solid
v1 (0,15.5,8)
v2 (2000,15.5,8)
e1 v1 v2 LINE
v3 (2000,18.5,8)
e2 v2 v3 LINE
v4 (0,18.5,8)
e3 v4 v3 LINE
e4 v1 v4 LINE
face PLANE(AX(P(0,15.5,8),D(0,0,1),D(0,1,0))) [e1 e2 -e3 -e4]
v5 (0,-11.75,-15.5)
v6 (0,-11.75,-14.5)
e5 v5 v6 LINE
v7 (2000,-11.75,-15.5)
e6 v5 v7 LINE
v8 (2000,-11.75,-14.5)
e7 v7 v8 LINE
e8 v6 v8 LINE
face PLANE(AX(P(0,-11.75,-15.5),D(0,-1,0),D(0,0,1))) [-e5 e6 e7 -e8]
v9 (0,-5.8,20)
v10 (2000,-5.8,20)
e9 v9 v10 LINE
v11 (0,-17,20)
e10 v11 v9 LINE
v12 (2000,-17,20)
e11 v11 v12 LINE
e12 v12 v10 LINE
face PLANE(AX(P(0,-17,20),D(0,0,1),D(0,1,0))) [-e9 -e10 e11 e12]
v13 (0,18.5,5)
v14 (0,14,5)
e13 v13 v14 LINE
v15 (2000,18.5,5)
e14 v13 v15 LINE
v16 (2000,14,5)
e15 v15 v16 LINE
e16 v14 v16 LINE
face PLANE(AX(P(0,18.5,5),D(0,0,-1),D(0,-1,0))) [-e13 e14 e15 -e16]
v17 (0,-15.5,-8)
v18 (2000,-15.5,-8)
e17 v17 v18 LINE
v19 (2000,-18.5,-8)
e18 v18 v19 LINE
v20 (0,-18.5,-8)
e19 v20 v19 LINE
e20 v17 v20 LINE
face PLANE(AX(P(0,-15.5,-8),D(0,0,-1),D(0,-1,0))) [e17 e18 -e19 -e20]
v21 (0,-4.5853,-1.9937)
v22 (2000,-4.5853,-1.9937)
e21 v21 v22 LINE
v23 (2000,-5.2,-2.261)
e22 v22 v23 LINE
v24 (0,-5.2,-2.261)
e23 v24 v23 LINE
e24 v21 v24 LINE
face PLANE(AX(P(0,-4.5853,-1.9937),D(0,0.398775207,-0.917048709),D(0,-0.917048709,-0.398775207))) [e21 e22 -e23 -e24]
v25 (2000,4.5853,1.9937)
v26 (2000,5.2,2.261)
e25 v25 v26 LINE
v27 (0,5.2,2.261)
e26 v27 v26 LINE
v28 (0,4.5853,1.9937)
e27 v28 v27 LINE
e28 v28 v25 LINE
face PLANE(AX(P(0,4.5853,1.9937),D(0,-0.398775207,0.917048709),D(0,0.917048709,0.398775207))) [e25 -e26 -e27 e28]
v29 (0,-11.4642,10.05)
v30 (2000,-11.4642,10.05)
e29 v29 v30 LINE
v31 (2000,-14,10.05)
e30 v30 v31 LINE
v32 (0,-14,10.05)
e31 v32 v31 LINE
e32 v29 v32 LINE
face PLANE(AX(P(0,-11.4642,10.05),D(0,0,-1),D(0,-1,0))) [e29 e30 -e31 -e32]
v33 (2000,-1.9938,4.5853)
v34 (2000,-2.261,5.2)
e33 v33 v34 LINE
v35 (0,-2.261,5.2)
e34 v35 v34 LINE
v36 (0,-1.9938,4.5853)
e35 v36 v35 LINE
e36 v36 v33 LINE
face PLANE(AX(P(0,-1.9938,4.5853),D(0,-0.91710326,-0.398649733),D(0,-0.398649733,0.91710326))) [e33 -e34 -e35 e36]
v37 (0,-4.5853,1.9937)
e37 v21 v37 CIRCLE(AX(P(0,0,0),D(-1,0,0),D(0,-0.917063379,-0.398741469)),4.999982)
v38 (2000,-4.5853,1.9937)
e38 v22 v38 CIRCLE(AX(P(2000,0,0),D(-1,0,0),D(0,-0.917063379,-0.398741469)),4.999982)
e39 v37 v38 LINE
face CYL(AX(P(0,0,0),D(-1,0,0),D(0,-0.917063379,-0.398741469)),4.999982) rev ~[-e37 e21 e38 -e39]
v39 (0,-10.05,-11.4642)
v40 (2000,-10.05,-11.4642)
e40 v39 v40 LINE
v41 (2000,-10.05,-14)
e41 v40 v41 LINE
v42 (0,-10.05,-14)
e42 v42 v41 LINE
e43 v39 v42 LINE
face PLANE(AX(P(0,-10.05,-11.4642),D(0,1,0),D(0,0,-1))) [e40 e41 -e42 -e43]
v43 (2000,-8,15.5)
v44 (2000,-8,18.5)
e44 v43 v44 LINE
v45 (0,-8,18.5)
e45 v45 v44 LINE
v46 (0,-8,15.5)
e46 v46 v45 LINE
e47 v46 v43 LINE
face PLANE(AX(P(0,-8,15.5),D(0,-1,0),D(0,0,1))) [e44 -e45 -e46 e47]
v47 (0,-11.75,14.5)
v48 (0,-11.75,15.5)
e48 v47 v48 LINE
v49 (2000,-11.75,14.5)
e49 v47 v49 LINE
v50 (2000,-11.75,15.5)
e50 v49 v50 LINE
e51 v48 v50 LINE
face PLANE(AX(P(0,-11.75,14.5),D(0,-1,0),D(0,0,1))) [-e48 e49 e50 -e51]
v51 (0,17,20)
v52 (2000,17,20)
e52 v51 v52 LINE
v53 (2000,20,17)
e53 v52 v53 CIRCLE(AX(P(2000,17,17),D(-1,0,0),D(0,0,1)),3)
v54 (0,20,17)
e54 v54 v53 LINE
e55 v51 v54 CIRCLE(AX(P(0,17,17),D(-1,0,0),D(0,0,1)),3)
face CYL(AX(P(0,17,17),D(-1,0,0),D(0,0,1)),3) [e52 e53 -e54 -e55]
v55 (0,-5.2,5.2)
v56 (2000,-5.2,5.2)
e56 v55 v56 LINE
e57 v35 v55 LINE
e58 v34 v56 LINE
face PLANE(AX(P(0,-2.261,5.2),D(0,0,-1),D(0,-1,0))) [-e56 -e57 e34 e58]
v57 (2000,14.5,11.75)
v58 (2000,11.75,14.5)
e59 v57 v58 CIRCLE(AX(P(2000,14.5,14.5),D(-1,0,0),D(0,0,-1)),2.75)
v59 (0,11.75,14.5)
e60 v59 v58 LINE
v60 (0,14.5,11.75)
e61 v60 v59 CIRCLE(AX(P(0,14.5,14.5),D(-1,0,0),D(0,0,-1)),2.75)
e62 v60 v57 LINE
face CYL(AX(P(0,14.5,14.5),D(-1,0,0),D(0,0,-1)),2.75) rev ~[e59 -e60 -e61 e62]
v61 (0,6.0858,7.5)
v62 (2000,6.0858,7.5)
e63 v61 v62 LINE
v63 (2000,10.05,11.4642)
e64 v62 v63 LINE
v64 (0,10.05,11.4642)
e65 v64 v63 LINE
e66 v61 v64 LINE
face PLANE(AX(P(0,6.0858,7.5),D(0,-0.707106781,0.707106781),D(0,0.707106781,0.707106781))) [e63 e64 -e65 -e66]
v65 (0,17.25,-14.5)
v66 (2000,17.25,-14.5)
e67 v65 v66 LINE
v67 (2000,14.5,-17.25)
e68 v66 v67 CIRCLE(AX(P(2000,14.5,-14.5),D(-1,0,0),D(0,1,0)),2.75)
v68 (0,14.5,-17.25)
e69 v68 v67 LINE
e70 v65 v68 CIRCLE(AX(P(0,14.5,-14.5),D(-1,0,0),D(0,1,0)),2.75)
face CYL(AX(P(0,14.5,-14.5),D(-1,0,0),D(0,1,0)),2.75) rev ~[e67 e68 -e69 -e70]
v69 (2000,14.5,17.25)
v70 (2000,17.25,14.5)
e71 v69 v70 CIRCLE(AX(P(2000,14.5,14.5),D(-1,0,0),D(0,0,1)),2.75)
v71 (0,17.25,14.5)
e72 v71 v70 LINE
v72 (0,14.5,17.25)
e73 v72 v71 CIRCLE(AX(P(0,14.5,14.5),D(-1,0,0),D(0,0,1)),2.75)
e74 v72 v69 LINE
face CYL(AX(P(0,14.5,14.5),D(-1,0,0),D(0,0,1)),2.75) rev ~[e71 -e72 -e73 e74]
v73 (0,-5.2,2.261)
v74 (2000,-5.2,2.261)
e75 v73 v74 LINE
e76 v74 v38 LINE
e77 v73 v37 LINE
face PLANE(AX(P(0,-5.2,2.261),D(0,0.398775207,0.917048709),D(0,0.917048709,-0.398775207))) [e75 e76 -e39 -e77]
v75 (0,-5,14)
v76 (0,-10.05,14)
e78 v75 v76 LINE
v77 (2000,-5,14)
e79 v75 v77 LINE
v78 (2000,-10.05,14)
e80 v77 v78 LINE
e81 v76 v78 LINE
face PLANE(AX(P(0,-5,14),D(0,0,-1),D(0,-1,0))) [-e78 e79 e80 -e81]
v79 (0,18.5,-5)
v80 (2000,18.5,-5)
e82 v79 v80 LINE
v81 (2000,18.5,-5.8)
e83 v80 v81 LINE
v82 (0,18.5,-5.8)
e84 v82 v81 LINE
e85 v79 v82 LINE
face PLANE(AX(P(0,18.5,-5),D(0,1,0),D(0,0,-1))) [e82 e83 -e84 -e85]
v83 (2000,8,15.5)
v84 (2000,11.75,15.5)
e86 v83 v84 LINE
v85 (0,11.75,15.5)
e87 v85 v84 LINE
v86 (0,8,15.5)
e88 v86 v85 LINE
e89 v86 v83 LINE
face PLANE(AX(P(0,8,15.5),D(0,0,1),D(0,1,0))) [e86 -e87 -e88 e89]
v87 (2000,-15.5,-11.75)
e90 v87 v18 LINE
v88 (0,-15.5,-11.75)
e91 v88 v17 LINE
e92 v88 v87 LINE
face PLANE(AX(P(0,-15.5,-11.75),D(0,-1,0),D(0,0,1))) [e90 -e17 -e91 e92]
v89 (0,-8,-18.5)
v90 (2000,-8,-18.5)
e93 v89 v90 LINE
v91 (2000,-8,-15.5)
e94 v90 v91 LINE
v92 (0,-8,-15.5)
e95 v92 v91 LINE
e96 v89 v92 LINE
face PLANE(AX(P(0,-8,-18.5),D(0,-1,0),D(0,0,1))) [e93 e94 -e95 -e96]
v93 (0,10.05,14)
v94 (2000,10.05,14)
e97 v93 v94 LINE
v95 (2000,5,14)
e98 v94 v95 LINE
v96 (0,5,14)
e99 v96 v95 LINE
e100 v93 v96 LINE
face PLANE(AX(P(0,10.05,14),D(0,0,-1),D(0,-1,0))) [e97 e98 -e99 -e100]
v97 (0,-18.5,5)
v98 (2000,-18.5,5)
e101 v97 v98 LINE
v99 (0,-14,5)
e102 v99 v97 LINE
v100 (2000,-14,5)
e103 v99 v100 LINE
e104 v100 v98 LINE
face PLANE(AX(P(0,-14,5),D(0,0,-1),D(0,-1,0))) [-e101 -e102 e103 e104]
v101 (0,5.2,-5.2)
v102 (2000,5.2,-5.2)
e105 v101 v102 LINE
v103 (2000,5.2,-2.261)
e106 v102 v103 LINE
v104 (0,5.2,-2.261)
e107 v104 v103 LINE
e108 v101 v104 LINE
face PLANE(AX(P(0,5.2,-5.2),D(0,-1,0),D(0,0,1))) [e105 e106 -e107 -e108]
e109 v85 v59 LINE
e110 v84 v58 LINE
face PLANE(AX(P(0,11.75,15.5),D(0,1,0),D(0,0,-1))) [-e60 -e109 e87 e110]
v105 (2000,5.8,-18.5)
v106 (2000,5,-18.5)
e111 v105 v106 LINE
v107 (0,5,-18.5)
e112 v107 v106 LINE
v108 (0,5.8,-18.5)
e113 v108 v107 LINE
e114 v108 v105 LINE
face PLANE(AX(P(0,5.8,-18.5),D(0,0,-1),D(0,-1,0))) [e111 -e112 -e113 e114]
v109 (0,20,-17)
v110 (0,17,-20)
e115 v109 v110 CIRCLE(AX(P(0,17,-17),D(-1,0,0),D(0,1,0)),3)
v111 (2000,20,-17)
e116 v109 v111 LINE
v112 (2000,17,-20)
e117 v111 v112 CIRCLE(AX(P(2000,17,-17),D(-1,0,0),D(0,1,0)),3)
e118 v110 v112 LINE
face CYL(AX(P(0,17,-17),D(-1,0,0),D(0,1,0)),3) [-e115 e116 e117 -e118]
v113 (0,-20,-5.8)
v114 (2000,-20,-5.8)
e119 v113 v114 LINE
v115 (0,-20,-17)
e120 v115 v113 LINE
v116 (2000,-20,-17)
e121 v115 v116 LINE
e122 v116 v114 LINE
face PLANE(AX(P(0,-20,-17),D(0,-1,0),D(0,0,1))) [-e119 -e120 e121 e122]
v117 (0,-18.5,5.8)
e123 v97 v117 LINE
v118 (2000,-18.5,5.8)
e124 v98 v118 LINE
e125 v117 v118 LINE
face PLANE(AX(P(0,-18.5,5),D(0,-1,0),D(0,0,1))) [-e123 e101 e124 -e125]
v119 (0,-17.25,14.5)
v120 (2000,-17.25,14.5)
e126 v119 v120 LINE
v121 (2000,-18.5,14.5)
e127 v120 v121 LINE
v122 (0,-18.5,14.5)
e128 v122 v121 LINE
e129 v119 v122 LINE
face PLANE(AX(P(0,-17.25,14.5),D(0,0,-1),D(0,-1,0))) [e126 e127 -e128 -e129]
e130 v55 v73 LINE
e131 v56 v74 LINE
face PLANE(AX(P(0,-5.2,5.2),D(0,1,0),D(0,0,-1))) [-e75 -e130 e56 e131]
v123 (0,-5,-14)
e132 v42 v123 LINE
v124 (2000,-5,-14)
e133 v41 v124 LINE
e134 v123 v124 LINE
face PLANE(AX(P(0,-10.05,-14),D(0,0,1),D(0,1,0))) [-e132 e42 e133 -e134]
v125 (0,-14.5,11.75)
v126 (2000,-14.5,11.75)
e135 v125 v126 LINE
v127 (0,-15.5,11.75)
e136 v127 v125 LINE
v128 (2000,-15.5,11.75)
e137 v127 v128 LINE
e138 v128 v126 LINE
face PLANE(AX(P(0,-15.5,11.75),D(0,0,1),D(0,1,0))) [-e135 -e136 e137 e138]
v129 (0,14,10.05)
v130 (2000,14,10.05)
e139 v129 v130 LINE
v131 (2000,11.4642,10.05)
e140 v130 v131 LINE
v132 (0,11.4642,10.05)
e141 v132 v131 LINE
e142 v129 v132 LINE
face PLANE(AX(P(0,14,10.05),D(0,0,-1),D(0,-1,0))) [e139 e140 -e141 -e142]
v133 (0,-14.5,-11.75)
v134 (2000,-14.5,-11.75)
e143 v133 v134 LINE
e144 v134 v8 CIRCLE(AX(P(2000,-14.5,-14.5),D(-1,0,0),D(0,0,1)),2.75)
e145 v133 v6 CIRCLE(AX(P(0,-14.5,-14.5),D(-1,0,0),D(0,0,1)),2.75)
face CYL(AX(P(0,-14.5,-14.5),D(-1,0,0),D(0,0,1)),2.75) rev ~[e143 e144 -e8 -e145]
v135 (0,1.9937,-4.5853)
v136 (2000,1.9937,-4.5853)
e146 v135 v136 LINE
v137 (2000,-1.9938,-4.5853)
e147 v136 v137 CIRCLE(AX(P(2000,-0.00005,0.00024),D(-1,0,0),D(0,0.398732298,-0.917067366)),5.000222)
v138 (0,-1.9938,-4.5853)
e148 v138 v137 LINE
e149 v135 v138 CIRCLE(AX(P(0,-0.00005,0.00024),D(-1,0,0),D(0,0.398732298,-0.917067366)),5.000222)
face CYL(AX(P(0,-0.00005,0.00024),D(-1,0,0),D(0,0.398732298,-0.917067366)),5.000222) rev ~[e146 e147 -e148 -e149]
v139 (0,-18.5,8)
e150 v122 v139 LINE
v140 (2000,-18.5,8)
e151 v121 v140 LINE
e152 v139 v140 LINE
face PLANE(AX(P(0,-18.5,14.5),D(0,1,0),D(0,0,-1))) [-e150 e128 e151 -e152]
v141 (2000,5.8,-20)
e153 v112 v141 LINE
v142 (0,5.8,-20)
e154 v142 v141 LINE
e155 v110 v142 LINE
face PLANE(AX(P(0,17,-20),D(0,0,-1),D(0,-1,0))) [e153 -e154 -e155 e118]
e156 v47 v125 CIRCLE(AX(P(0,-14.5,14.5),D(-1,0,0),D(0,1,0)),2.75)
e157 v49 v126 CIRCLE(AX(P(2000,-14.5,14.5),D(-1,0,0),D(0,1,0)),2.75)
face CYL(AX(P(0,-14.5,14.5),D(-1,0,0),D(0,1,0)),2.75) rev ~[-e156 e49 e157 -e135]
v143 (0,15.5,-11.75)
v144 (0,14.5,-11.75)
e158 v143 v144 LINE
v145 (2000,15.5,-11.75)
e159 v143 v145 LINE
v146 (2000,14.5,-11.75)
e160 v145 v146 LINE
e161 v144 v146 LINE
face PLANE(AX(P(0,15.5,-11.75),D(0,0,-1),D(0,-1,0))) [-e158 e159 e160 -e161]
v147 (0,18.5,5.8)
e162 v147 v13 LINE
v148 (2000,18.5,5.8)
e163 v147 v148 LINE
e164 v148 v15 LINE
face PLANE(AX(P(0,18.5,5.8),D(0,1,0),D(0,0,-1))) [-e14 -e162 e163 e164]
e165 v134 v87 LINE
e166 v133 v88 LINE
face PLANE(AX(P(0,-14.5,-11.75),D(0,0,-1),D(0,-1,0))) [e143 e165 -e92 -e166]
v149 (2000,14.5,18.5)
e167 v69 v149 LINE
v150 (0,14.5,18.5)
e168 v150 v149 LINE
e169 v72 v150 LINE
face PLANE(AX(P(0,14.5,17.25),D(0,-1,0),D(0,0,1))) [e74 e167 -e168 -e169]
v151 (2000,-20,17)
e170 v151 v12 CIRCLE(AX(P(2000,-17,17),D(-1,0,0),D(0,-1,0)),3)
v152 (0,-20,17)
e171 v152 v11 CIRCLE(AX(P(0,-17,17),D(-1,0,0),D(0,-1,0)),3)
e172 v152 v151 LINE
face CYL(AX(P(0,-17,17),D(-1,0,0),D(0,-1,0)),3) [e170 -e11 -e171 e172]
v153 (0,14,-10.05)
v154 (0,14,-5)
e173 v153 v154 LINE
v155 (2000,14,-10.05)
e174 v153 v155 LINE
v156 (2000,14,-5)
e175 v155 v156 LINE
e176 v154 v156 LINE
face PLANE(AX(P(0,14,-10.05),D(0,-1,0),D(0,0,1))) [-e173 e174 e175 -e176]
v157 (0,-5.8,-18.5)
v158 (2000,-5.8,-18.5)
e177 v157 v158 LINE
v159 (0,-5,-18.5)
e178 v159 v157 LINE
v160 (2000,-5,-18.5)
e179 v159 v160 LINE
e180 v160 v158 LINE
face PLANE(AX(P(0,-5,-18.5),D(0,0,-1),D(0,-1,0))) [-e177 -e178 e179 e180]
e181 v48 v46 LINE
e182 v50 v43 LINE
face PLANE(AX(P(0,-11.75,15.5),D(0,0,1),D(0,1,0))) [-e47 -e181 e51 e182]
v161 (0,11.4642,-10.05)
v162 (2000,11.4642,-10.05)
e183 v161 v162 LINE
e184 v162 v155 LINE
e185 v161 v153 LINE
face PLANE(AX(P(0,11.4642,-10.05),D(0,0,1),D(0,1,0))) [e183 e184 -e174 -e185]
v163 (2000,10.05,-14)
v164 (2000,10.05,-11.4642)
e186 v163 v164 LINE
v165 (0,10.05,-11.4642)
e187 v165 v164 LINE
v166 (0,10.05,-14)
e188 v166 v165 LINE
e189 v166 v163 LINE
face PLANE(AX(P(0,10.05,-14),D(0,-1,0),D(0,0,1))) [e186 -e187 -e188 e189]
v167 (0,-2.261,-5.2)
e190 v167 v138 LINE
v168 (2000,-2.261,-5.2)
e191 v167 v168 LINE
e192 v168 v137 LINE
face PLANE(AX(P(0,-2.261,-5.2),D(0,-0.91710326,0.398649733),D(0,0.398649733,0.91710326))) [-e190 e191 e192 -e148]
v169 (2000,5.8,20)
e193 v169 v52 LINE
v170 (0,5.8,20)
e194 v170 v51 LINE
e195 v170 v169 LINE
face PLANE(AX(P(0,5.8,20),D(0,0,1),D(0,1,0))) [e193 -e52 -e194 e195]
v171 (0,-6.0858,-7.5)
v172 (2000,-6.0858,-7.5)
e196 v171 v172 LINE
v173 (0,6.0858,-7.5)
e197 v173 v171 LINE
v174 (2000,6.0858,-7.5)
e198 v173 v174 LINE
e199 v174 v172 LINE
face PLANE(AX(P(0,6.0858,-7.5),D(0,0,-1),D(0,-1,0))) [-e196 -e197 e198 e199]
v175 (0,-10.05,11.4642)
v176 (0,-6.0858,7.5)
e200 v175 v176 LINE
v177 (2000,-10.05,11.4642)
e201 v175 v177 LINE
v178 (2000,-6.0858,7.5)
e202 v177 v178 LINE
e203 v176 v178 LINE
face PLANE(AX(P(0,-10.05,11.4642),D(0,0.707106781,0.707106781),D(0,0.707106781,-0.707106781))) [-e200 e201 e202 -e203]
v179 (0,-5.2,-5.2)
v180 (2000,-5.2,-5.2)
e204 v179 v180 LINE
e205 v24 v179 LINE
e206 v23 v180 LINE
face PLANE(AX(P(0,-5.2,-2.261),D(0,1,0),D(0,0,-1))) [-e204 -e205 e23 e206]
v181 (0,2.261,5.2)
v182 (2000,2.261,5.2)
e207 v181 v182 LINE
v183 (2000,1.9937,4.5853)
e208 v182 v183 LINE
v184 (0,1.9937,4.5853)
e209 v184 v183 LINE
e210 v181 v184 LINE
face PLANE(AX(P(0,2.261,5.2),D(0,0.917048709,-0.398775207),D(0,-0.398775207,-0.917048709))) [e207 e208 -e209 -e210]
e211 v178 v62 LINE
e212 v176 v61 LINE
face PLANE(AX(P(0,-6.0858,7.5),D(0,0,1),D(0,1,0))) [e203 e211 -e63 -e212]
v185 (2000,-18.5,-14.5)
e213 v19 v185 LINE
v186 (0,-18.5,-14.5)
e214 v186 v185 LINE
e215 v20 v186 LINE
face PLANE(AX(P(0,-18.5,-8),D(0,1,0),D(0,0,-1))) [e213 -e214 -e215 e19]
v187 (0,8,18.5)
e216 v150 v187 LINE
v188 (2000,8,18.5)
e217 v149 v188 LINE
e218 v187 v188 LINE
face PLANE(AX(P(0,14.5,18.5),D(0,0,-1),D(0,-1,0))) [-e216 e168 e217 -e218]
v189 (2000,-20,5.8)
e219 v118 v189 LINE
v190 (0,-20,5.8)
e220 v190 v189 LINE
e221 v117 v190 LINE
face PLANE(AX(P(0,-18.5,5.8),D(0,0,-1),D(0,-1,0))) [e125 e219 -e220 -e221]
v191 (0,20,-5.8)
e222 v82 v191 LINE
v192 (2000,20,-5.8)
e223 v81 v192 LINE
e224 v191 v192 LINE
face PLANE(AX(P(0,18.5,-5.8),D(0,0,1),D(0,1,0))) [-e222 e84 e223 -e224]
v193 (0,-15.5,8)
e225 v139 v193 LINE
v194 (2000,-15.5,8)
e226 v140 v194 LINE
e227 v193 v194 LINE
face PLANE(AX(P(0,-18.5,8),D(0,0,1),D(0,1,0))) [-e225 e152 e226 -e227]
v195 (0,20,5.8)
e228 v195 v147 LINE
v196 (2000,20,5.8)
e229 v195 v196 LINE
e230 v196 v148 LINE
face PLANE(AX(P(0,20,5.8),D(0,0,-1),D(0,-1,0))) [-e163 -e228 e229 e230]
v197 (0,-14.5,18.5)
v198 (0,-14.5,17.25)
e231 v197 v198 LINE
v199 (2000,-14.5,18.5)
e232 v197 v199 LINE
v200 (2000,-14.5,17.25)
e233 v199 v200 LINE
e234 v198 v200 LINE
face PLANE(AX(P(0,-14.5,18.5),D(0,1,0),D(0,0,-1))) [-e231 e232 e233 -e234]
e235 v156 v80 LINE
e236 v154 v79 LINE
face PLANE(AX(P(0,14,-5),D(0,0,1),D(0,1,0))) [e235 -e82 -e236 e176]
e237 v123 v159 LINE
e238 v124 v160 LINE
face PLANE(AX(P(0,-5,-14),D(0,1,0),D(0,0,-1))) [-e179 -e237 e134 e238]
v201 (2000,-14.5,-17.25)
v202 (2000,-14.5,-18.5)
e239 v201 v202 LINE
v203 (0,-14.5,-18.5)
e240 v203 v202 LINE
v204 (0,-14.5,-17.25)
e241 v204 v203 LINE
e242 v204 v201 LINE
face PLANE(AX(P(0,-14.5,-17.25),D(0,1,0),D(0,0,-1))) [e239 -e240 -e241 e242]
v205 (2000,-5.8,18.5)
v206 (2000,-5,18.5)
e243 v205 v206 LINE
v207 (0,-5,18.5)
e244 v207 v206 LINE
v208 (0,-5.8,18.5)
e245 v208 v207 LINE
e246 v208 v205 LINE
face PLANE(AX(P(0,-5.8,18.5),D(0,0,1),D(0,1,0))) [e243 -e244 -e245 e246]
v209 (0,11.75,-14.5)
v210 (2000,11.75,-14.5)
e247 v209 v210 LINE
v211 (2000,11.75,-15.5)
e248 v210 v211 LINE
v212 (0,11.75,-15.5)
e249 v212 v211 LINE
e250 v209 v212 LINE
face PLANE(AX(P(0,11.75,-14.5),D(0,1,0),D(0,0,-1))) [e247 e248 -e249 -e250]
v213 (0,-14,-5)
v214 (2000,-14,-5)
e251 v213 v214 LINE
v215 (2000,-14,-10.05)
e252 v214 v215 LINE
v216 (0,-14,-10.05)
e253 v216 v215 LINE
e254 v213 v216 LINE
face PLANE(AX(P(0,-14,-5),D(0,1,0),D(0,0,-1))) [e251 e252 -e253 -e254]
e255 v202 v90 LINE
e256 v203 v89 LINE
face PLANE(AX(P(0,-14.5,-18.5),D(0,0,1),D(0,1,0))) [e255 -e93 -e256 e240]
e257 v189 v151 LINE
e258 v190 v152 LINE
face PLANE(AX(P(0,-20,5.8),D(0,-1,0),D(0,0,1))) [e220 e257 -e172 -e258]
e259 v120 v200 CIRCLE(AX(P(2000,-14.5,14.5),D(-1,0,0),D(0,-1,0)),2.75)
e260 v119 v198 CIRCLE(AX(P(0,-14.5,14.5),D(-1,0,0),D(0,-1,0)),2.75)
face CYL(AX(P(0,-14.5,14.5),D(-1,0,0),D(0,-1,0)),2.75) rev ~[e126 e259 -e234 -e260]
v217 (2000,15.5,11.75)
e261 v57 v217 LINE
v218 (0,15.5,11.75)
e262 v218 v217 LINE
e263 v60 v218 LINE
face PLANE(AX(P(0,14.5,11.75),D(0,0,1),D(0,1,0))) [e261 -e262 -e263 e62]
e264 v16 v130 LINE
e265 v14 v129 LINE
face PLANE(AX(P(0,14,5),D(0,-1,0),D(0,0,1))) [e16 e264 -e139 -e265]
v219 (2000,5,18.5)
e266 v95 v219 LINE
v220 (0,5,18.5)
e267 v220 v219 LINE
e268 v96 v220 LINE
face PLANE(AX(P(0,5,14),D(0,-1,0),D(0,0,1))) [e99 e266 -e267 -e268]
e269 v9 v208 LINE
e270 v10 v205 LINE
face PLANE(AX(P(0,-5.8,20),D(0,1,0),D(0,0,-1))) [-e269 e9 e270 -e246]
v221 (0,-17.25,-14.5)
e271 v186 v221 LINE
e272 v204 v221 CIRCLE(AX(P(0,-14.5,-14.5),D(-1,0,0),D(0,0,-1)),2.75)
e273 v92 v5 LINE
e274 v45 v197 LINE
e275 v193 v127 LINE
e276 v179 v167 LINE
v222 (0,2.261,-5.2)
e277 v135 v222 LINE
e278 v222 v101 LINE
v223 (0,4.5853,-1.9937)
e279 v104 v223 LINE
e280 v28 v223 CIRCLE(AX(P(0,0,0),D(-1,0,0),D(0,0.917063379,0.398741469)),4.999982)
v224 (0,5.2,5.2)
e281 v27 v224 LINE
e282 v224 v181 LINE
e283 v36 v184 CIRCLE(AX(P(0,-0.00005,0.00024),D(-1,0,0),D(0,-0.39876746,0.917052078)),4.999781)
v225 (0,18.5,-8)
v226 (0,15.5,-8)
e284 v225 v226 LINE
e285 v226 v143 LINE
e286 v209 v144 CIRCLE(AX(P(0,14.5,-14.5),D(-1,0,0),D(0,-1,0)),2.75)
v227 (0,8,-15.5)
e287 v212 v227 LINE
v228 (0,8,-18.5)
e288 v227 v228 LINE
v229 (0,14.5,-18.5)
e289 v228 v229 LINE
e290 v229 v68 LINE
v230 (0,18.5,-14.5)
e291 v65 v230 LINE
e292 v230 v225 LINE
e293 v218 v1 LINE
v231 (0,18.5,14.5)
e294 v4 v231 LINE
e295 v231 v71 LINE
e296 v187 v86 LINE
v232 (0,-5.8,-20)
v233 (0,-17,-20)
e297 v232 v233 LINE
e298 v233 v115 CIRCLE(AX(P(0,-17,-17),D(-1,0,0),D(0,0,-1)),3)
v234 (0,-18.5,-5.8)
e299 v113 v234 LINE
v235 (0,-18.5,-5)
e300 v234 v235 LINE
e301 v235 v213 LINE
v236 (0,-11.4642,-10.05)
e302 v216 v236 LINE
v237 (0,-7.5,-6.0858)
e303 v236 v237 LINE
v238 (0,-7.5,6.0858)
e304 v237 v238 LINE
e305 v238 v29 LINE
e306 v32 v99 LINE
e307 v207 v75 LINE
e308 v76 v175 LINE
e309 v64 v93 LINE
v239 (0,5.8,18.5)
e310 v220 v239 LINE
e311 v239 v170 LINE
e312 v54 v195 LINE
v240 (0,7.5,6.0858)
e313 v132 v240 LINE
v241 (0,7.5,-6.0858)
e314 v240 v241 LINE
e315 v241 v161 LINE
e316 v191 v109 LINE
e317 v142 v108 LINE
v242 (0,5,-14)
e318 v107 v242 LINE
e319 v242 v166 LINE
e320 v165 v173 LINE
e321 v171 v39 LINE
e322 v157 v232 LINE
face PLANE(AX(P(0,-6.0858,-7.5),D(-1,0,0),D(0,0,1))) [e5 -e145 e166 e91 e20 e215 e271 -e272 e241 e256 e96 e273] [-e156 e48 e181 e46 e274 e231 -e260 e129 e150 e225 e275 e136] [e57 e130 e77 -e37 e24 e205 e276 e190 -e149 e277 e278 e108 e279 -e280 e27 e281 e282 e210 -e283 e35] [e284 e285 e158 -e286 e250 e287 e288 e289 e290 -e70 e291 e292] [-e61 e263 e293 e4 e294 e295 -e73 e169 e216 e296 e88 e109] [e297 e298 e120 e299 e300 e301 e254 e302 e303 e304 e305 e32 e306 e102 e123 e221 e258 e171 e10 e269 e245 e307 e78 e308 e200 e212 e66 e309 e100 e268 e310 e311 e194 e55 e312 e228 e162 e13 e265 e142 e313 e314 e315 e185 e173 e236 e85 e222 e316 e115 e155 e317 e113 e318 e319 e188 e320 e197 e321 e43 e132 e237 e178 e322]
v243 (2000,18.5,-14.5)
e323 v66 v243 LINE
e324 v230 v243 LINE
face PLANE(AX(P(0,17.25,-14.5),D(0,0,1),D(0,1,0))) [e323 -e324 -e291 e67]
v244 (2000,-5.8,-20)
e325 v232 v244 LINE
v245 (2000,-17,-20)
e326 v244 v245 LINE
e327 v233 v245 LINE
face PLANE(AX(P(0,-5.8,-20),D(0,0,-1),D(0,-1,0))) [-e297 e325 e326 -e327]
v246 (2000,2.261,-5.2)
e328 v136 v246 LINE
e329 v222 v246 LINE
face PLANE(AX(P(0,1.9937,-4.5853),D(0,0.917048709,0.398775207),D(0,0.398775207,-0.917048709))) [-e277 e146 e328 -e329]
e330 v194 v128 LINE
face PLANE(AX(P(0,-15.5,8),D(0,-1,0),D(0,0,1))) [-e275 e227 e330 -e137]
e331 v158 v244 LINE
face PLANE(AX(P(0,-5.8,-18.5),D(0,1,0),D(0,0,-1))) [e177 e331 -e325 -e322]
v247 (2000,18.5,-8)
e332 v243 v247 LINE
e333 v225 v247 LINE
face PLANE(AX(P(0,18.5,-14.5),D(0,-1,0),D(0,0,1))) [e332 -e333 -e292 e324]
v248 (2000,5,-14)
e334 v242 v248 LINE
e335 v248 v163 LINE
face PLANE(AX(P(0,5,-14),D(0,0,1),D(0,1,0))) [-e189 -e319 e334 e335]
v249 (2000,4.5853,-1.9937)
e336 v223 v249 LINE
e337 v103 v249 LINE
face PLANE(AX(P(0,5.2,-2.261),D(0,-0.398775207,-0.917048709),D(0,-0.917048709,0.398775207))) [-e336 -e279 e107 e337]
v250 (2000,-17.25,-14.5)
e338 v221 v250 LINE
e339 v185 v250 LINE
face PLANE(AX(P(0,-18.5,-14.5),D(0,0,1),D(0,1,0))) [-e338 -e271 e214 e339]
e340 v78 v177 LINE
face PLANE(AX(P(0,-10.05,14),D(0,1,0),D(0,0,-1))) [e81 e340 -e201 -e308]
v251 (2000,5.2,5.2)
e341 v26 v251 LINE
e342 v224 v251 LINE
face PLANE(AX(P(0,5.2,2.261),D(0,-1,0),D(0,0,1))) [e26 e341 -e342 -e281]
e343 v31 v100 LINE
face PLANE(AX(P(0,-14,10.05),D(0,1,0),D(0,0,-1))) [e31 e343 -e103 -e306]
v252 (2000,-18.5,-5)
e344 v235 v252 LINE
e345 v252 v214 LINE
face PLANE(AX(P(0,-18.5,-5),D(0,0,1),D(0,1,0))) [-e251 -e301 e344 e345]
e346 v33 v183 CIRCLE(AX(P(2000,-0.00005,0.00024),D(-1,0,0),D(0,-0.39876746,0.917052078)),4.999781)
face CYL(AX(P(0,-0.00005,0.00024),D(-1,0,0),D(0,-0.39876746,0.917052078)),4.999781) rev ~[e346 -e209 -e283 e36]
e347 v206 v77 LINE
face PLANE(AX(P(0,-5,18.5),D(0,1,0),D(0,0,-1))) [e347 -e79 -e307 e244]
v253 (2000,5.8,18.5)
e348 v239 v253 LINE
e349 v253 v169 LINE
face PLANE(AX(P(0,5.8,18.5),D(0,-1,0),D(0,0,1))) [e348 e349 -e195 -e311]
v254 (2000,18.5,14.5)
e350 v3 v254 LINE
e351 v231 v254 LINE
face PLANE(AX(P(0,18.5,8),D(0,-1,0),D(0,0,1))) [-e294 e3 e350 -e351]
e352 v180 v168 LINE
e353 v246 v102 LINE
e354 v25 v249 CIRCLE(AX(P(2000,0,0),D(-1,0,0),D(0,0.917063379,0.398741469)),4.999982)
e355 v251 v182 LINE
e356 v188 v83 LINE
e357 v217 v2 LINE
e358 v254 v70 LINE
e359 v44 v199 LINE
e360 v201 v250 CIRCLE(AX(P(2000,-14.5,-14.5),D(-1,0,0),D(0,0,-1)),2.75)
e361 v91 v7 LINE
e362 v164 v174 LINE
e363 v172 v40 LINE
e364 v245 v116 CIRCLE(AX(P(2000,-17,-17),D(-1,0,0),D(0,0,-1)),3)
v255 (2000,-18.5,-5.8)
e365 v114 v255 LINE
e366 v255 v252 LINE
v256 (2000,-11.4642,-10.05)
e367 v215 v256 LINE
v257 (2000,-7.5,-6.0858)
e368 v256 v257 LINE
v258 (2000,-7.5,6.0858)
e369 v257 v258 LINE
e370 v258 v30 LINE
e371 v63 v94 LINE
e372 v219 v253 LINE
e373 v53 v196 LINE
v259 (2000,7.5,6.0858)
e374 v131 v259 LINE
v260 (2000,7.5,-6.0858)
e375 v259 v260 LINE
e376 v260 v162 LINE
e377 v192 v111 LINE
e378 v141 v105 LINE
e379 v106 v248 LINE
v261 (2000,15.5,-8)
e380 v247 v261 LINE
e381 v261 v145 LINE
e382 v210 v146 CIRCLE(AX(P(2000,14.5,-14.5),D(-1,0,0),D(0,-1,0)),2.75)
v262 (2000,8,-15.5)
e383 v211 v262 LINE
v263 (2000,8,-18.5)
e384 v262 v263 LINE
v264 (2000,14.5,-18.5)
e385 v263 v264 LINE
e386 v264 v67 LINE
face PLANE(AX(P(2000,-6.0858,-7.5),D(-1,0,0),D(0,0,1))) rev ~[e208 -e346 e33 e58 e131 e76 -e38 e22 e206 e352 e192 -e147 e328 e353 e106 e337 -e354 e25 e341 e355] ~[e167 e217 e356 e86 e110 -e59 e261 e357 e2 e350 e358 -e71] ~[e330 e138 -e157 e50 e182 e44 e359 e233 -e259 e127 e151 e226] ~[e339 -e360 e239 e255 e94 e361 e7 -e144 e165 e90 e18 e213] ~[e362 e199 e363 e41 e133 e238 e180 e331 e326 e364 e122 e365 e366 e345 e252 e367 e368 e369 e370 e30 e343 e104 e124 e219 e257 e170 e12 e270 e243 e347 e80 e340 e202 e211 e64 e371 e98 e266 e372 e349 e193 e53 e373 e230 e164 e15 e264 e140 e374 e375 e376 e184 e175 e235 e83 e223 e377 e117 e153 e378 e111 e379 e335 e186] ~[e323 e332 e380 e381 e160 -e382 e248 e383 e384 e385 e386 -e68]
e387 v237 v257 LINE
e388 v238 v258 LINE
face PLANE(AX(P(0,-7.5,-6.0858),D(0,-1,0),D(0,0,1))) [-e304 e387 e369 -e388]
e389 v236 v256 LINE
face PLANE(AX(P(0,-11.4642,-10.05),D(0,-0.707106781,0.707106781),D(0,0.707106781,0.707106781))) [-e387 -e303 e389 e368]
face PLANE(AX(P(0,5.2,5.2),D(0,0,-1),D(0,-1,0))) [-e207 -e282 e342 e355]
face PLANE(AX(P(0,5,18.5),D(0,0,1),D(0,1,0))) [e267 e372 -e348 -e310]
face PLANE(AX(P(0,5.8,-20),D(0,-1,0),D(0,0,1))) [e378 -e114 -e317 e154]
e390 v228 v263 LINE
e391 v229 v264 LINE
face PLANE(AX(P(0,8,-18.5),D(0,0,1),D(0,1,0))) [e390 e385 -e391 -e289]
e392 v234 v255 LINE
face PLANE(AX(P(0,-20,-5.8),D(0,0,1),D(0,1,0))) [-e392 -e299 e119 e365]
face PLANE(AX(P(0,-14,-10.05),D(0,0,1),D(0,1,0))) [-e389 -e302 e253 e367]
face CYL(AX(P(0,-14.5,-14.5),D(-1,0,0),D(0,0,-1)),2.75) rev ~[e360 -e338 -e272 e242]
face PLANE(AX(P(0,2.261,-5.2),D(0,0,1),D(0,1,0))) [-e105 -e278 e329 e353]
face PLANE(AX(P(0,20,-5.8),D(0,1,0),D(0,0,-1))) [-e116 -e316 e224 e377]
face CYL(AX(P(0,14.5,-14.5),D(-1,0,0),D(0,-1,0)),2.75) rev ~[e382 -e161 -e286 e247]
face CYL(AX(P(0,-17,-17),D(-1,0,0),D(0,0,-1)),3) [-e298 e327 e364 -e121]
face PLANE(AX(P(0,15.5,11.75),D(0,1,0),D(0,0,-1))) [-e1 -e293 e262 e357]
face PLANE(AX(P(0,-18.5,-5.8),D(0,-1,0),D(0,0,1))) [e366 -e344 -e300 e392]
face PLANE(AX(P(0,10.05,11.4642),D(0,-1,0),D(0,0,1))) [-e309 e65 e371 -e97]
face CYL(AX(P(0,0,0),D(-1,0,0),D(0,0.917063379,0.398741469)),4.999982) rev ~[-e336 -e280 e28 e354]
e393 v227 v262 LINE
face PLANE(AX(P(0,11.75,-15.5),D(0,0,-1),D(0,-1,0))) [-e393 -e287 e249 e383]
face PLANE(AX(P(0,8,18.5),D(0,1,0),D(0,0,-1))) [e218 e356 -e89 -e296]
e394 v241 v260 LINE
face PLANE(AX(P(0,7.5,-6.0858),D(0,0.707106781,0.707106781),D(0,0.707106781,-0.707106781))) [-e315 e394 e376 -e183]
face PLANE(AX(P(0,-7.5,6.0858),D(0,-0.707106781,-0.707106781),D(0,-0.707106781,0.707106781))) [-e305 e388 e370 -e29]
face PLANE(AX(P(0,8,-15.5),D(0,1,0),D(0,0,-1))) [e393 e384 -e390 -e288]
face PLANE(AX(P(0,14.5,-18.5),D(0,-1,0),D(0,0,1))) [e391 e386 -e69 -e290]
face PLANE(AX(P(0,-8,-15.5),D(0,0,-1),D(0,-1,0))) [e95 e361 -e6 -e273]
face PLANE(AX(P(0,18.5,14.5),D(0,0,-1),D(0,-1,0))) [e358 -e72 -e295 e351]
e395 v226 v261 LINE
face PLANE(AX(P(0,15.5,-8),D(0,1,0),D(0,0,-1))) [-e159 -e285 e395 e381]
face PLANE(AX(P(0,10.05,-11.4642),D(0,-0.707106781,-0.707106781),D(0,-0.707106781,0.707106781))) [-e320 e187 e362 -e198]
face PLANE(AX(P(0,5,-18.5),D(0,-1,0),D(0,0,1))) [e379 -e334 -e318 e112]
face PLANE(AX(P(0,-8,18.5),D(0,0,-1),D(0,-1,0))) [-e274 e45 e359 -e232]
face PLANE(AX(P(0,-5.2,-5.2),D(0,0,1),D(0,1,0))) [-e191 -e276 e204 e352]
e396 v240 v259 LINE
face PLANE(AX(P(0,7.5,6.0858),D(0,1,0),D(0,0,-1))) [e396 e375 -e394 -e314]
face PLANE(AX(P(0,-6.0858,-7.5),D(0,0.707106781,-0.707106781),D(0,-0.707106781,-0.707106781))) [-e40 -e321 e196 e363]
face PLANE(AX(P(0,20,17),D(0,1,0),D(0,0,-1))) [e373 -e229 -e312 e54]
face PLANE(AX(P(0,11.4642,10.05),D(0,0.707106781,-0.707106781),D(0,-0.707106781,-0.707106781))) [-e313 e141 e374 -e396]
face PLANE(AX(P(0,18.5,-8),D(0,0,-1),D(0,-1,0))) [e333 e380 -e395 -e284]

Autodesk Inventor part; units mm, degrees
ref_plane "YZ Plane" through (0, 0, 0) normal (1, 0, 0) x (0, 1, 0)
ref_plane "Work Plane1" through (3000, -6.0858, -7.5) normal (1, 0, 0) x (0, 0, -1)
sketch "Sketch1" plane through (3000, -6.0858, -7.5) normal (1, 0, 0) x (0, 0, -1)
  line L0 (0, 0) -> (3.9642, -3.9642) projected
  line L1 (0, 12.1716) -> (0, 0) projected
  line L2 (3.9642, 16.1358) -> (0, 12.1716) projected
  line L3 (6.5, 16.1358) -> (3.9642, 16.1358) projected
  line L4 (6.5, 11.0858) -> (6.5, 16.1358) projected
  line L5 (11, 11.0858) -> (6.5, 11.0858) projected
  line L6 (11, 11.8858) -> (11, 11.0858) projected
  line L7 (12.5, 11.8858) -> (11, 11.8858) projected
  line L8 (12.5, 23.0858) -> (12.5, 11.8858) projected
  arc A0 (12.5, 23.0858) -> (9.5, 26.0858) centre (9.5, 23.0858) ccw projected
  line L9 (-1.7, 26.0858) -> (9.5, 26.0858) projected
  line L10 (-1.7, 24.5858) -> (-1.7, 26.0858) projected
  line L11 (-2.5, 24.5858) -> (-1.7, 24.5858) projected
  line L12 (-2.5, 20.0858) -> (-2.5, 24.5858) projected
  line L13 (2.55, 20.0858) -> (-2.5, 20.0858) projected
  line L14 (2.55, 17.55) -> (2.55, 20.0858) projected
  line L15 (-1.4142, 13.5858) -> (2.55, 17.55) projected
  line L16 (-13.5858, 13.5858) -> (-1.4142, 13.5858) projected
  line L17 (-17.55, 17.55) -> (-13.5858, 13.5858) projected
  line L18 (-17.55, 20.0858) -> (-17.55, 17.55) projected
  line L19 (-12.5, 20.0858) -> (-17.55, 20.0858) projected
  line L20 (-12.5, 24.5858) -> (-12.5, 20.0858) projected
  line L21 (-13.3, 24.5858) -> (-12.5, 24.5858) projected
  line L22 (-13.3, 26.0858) -> (-13.3, 24.5858) projected
  line L23 (-24.5, 26.0858) -> (-13.3, 26.0858) projected
  arc A1 (-24.5, 26.0858) -> (-27.5, 23.0858) centre (-24.5, 23.0858) ccw projected
  line L24 (-27.5, 11.8858) -> (-27.5, 23.0858) projected
  line L25 (-26, 11.8858) -> (-27.5, 11.8858) projected
  line L26 (-26, 11.0858) -> (-26, 11.8858) projected
  line L27 (-21.5, 11.0858) -> (-26, 11.0858) projected
  line L28 (-21.5, 16.1358) -> (-21.5, 11.0858) projected
  line L29 (-18.9642, 16.1358) -> (-21.5, 16.1358) projected
  line L30 (-15, 12.1716) -> (-18.9642, 16.1358) projected
  line L31 (-15, 0) -> (-15, 12.1716) projected
  line L32 (-18.9642, -3.9642) -> (-15, 0) projected
  line L33 (-21.5, -3.9642) -> (-18.9642, -3.9642) projected
  line L34 (-21.5, 1.0858) -> (-21.5, -3.9642) projected
  line L35 (-26, 1.0858) -> (-21.5, 1.0858) projected
  line L36 (-26, 0.2858) -> (-26, 1.0858) projected
  line L37 (-27.5, 0.2858) -> (-26, 0.2858) projected
  line L38 (-27.5, -10.9142) -> (-27.5, 0.2858) projected
  arc A2 (-27.5, -10.9142) -> (-24.5, -13.9142) centre (-24.5, -10.9142) ccw projected
  line L39 (-13.3, -13.9142) -> (-24.5, -13.9142) projected
  line L40 (-13.3, -12.4142) -> (-13.3, -13.9142) projected
  line L41 (-12.5, -12.4142) -> (-13.3, -12.4142) projected
  line L42 (-12.5, -7.9142) -> (-12.5, -12.4142) projected
  line L43 (-17.55, -7.9142) -> (-12.5, -7.9142) projected
  line L44 (-17.55, -5.3784) -> (-17.55, -7.9142) projected
  line L45 (-13.5858, -1.4142) -> (-17.55, -5.3784) projected
  line L46 (-1.4142, -1.4142) -> (-13.5858, -1.4142) projected
  line L47 (2.55, -5.3784) -> (-1.4142, -1.4142) projected
  line L48 (2.55, -7.9142) -> (2.55, -5.3784) projected
  line L49 (-2.5, -7.9142) -> (2.55, -7.9142) projected
  line L50 (-2.5, -12.4142) -> (-2.5, -7.9142) projected
  line L51 (-1.7, -12.4142) -> (-2.5, -12.4142) projected
  line L52 (-1.7, -13.9142) -> (-1.7, -12.4142) projected
  line L53 (9.5, -13.9142) -> (-1.7, -13.9142) projected
  arc A3 (9.5, -13.9142) -> (12.5, -10.9142) centre (9.5, -10.9142) ccw projected
  line L54 (12.5, 0.2858) -> (12.5, -10.9142) projected
  line L55 (11, 0.2858) -> (12.5, 0.2858) projected
  line L56 (11, 1.0858) -> (11, 0.2858) projected
  line L57 (6.5, 1.0858) -> (11, 1.0858) projected
  line L58 (6.5, -3.9642) -> (6.5, 1.0858) projected
  line L59 (3.9642, -3.9642) -> (6.5, -3.9642) projected
  line L60 (8, -1.9142) -> (11, -1.9142) projected
  line L61 (11, -1.9142) -> (11, -8.4142) projected
  line L62 (11, -8.4142) -> (9.75, -8.4142) projected
  arc A4 (7, -11.1642) -> (9.75, -8.4142) centre (7, -8.4142) ccw projected
  line L63 (7, -11.1642) -> (7, -12.4142) projected
  line L64 (7, -12.4142) -> (0.5, -12.4142) projected
  line L65 (0.5, -12.4142) -> (0.5, -9.4142) projected
  line L66 (0.5, -9.4142) -> (4.25, -9.4142) projected
  line L67 (4.25, -9.4142) -> (4.25, -8.4142) projected
  arc A5 (7, -5.6642) -> (4.25, -8.4142) centre (7, -8.4142) ccw projected
  line L68 (7, -5.6642) -> (8, -5.6642) projected
  line L69 (8, -5.6642) -> (8, -1.9142) projected
  line L70 (0.5, 21.5858) -> (0.5, 24.5858) projected
  line L71 (0.5, 24.5858) -> (7, 24.5858) projected
  line L72 (7, 24.5858) -> (7, 23.3358) projected
  arc A6 (9.75, 20.5858) -> (7, 23.3358) centre (7, 20.5858) ccw projected
  line L73 (9.75, 20.5858) -> (11, 20.5858) projected
  line L74 (11, 20.5858) -> (11, 14.0858) projected
  line L75 (11, 14.0858) -> (8, 14.0858) projected
  line L76 (8, 14.0858) -> (8, 17.8358) projected
  line L77 (8, 17.8358) -> (7, 17.8358) projected
  arc A7 (4.25, 20.5858) -> (7, 17.8358) centre (7, 20.5858) ccw projected
  line L78 (4.25, 20.5858) -> (4.25, 21.5858) projected
  line L79 (4.25, 21.5858) -> (0.5, 21.5858) projected
  line L80 (-23, 14.0858) -> (-26, 14.0858) projected
  line L81 (-26, 14.0858) -> (-26, 20.5858) projected
  line L82 (-26, 20.5858) -> (-24.75, 20.5858) projected
  arc A8 (-22, 23.3358) -> (-24.75, 20.5858) centre (-22, 20.5858) ccw projected
  line L83 (-22, 23.3358) -> (-22, 24.5858) projected
  line L84 (-22, 24.5858) -> (-15.5, 24.5858) projected
  line L85 (-15.5, 24.5858) -> (-15.5, 21.5858) projected
  line L86 (-15.5, 21.5858) -> (-19.25, 21.5858) projected
  line L87 (-19.25, 21.5858) -> (-19.25, 20.5858) projected
  arc A9 (-22, 17.8358) -> (-19.25, 20.5858) centre (-22, 20.5858) ccw projected
  line L88 (-22, 17.8358) -> (-23, 17.8358) projected
  line L89 (-23, 17.8358) -> (-23, 14.0858) projected
  line L90 (-15.5, -9.4142) -> (-15.5, -12.4142) projected
  line L91 (-15.5, -12.4142) -> (-22, -12.4142) projected
  line L92 (-22, -12.4142) -> (-22, -11.1642) projected
  arc A10 (-24.75, -8.4142) -> (-22, -11.1642) centre (-22, -8.4142) ccw projected
  line L93 (-24.75, -8.4142) -> (-26, -8.4142) projected
  line L94 (-26, -8.4142) -> (-26, -1.9142) projected
  line L95 (-26, -1.9142) -> (-23, -1.9142) projected
  line L96 (-23, -1.9142) -> (-23, -5.6642) projected
  line L97 (-23, -5.6642) -> (-22, -5.6642) projected
  arc A11 (-19.25, -8.4142) -> (-22, -5.6642) centre (-22, -8.4142) ccw projected
  line L98 (-19.25, -8.4142) -> (-19.25, -9.4142) projected
  line L99 (-19.25, -9.4142) -> (-15.5, -9.4142) projected
  line L100 (-9.4937, 1.5005) -> (-9.761, 0.8858) projected
  line L101 (-9.761, 0.8858) -> (-12.7, 0.8858) projected
  line L102 (-12.7, 0.8858) -> (-12.7, 3.8248) projected
  line L103 (-12.7, 3.8248) -> (-12.0853, 4.092) projected
  arc A12 (-12.0853, 8.0795) -> (-12.0853, 4.092) centre (-7.5, 6.0858) ccw projected
  line L104 (-12.0853, 8.0795) -> (-12.7, 8.3468) projected
  line L105 (-12.7, 8.3468) -> (-12.7, 11.2858) projected
  line L106 (-12.7, 11.2858) -> (-9.761, 11.2858) projected
  line L107 (-9.761, 11.2858) -> (-9.4937, 10.6711) projected
  arc A13 (-5.5063, 10.6711) -> (-9.4937, 10.6711) centre (-7.5, 6.0858) ccw projected
  line L108 (-5.5063, 10.6711) -> (-5.239, 11.2858) projected
  line L109 (-5.239, 11.2858) -> (-2.3, 11.2858) projected
  line L110 (-2.3, 11.2858) -> (-2.3, 8.3468) projected
  line L111 (-2.3, 8.3468) -> (-2.9147, 8.0795) projected
  arc A14 (-2.9147, 4.092) -> (-2.9147, 8.0795) centre (-7.5, 6.0858) ccw projected
  line L112 (-2.9147, 4.092) -> (-2.3, 3.8248) projected
  line L113 (-2.3, 3.8248) -> (-2.3, 0.8858) projected
  line L114 (-2.3, 0.8858) -> (-5.239, 0.8858) projected
  line L115 (-5.239, 0.8858) -> (-5.5063, 1.5005) projected
  arc A15 (-9.4937, 1.5005) -> (-5.5063, 1.5005) centre (-7.5, 6.0858) ccw projected
  point P0 (-7.5, 6.0858)
ref_plane "Work Plane2" through (0, -6.0858, -7.5) normal (-1, 0, 0) x (0, 0, 1)
sketch "Sketch2" plane through (0, -6.0858, -7.5) normal (-1, 0, 0) x (0, 0, 1)
  line L0 (0, 12.1716) -> (0, 0) projected
  line L1 (0, 0) -> (-3.9642, -3.9642) projected
  line L2 (-3.9642, -3.9642) -> (-6.5, -3.9642) projected
  line L3 (-6.5, -3.9642) -> (-6.5, 1.0858) projected
  line L4 (-6.5, 1.0858) -> (-11, 1.0858) projected
  line L5 (-11, 1.0858) -> (-11, 0.2858) projected
  line L6 (-11, 0.2858) -> (-12.5, 0.2858) projected
  line L7 (-12.5, 0.2858) -> (-12.5, -10.9142) projected
  arc A0 (-12.5, -10.9142) -> (-9.5, -13.9142) centre (-9.5, -10.9142) ccw projected
  line L8 (-9.5, -13.9142) -> (1.7, -13.9142) projected
  line L9 (1.7, -13.9142) -> (1.7, -12.4142) projected
  line L10 (1.7, -12.4142) -> (2.5, -12.4142) projected
  line L11 (2.5, -12.4142) -> (2.5, -7.9142) projected
  line L12 (2.5, -7.9142) -> (-2.55, -7.9142) projected
  line L13 (-2.55, -7.9142) -> (-2.55, -5.3784) projected
  line L14 (-2.55, -5.3784) -> (1.4142, -1.4142) projected
  line L15 (1.4142, -1.4142) -> (13.5858, -1.4142) projected
  line L16 (13.5858, -1.4142) -> (17.55, -5.3784) projected
  line L17 (17.55, -5.3784) -> (17.55, -7.9142) projected
  line L18 (17.55, -7.9142) -> (12.5, -7.9142) projected
  line L19 (12.5, -7.9142) -> (12.5, -12.4142) projected
  line L20 (12.5, -12.4142) -> (13.3, -12.4142) projected
  line L21 (13.3, -12.4142) -> (13.3, -13.9142) projected
  line L22 (13.3, -13.9142) -> (24.5, -13.9142) projected
  arc A1 (24.5, -13.9142) -> (27.5, -10.9142) centre (24.5, -10.9142) ccw projected
  line L23 (27.5, -10.9142) -> (27.5, 0.2858) projected
  line L24 (27.5, 0.2858) -> (26, 0.2858) projected
  line L25 (26, 0.2858) -> (26, 1.0858) projected
  line L26 (26, 1.0858) -> (21.5, 1.0858) projected
  line L27 (21.5, 1.0858) -> (21.5, -3.9642) projected
  line L28 (21.5, -3.9642) -> (18.9642, -3.9642) projected
  line L29 (18.9642, -3.9642) -> (15, 0) projected
  line L30 (15, 0) -> (15, 12.1716) projected
  line L31 (15, 12.1716) -> (18.9642, 16.1358) projected
  line L32 (18.9642, 16.1358) -> (21.5, 16.1358) projected
  line L33 (21.5, 16.1358) -> (21.5, 11.0858) projected
  line L34 (21.5, 11.0858) -> (26, 11.0858) projected
  line L35 (26, 11.0858) -> (26, 11.8858) projected
  line L36 (26, 11.8858) -> (27.5, 11.8858) projected
  line L37 (27.5, 11.8858) -> (27.5, 23.0858) projected
  arc A2 (27.5, 23.0858) -> (24.5, 26.0858) centre (24.5, 23.0858) ccw projected
  line L38 (24.5, 26.0858) -> (13.3, 26.0858) projected
  line L39 (13.3, 26.0858) -> (13.3, 24.5858) projected
  line L40 (13.3, 24.5858) -> (12.5, 24.5858) projected
  line L41 (12.5, 24.5858) -> (12.5, 20.0858) projected
  line L42 (12.5, 20.0858) -> (17.55, 20.0858) projected
  line L43 (17.55, 20.0858) -> (17.55, 17.55) projected
  line L44 (17.55, 17.55) -> (13.5858, 13.5858) projected
  line L45 (13.5858, 13.5858) -> (1.4142, 13.5858) projected
  line L46 (1.4142, 13.5858) -> (-2.55, 17.55) projected
  line L47 (-2.55, 17.55) -> (-2.55, 20.0858) projected
  line L48 (-2.55, 20.0858) -> (2.5, 20.0858) projected
  line L49 (2.5, 20.0858) -> (2.5, 24.5858) projected
  line L50 (2.5, 24.5858) -> (1.7, 24.5858) projected
  line L51 (1.7, 24.5858) -> (1.7, 26.0858) projected
  line L52 (1.7, 26.0858) -> (-9.5, 26.0858) projected
  arc A3 (-9.5, 26.0858) -> (-12.5, 23.0858) centre (-9.5, 23.0858) ccw projected
  line L53 (-12.5, 23.0858) -> (-12.5, 11.8858) projected
  line L54 (-12.5, 11.8858) -> (-11, 11.8858) projected
  line L55 (-11, 11.8858) -> (-11, 11.0858) projected
  line L56 (-11, 11.0858) -> (-6.5, 11.0858) projected
  line L57 (-6.5, 11.0858) -> (-6.5, 16.1358) projected
  line L58 (-6.5, 16.1358) -> (-3.9642, 16.1358) projected
  line L59 (-3.9642, 16.1358) -> (0, 12.1716) projected
  line L60 (-11, -1.9142) -> (-8, -1.9142) projected
  line L61 (-8, -1.9142) -> (-8, -5.6642) projected
  line L62 (-8, -5.6642) -> (-7, -5.6642) projected
  arc A4 (-4.25, -8.4142) -> (-7, -5.6642) centre (-7, -8.4142) ccw projected
  line L63 (-4.25, -8.4142) -> (-4.25, -9.4142) projected
  line L64 (-4.25, -9.4142) -> (-0.5, -9.4142) projected
  line L65 (-0.5, -9.4142) -> (-0.5, -12.4142) projected
  line L66 (-0.5, -12.4142) -> (-7, -12.4142) projected
  line L67 (-7, -12.4142) -> (-7, -11.1642) projected
  arc A5 (-9.75, -8.4142) -> (-7, -11.1642) centre (-7, -8.4142) ccw projected
  line L68 (-9.75, -8.4142) -> (-11, -8.4142) projected
  line L69 (-11, -8.4142) -> (-11, -1.9142) projected
  line L70 (-0.5, 24.5858) -> (-0.5, 21.5858) projected
  line L71 (-0.5, 21.5858) -> (-4.25, 21.5858) projected
  line L72 (-4.25, 21.5858) -> (-4.25, 20.5858) projected
  arc A6 (-7, 17.8358) -> (-4.25, 20.5858) centre (-7, 20.5858) ccw projected
  line L73 (-7, 17.8358) -> (-8, 17.8358) projected
  line L74 (-8, 17.8358) -> (-8, 14.0858) projected
  line L75 (-8, 14.0858) -> (-11, 14.0858) projected
  line L76 (-11, 14.0858) -> (-11, 20.5858) projected
  line L77 (-11, 20.5858) -> (-9.75, 20.5858) projected
  arc A7 (-7, 23.3358) -> (-9.75, 20.5858) centre (-7, 20.5858) ccw projected
  line L78 (-7, 23.3358) -> (-7, 24.5858) projected
  line L79 (-7, 24.5858) -> (-0.5, 24.5858) projected
  line L80 (26, 14.0858) -> (23, 14.0858) projected
  line L81 (23, 14.0858) -> (23, 17.8358) projected
  line L82 (23, 17.8358) -> (22, 17.8358) projected
  arc A8 (19.25, 20.5858) -> (22, 17.8358) centre (22, 20.5858) ccw projected
  line L83 (19.25, 20.5858) -> (19.25, 21.5858) projected
  line L84 (19.25, 21.5858) -> (15.5, 21.5858) projected
  line L85 (15.5, 21.5858) -> (15.5, 24.5858) projected
  line L86 (15.5, 24.5858) -> (22, 24.5858) projected
  line L87 (22, 24.5858) -> (22, 23.3358) projected
  arc A9 (24.75, 20.5858) -> (22, 23.3358) centre (22, 20.5858) ccw projected
  line L88 (24.75, 20.5858) -> (26, 20.5858) projected
  line L89 (26, 20.5858) -> (26, 14.0858) projected
  line L90 (15.5, -12.4142) -> (15.5, -9.4142) projected
  line L91 (15.5, -9.4142) -> (19.25, -9.4142) projected
  line L92 (19.25, -9.4142) -> (19.25, -8.4142) projected
  arc A10 (22, -5.6642) -> (19.25, -8.4142) centre (22, -8.4142) ccw projected
  line L93 (22, -5.6642) -> (23, -5.6642) projected
  line L94 (23, -5.6642) -> (23, -1.9142) projected
  line L95 (23, -1.9142) -> (26, -1.9142) projected
  line L96 (26, -1.9142) -> (26, -8.4142) projected
  line L97 (26, -8.4142) -> (24.75, -8.4142) projected
  arc A11 (22, -11.1642) -> (24.75, -8.4142) centre (22, -8.4142) ccw projected
  line L98 (22, -11.1642) -> (22, -12.4142) projected
  line L99 (22, -12.4142) -> (15.5, -12.4142) projected
  line L100 (9.761, 0.8858) -> (9.4937, 1.5005) projected
  arc A12 (5.5063, 1.5005) -> (9.4937, 1.5005) centre (7.5, 6.0858) ccw projected
  line L101 (5.5063, 1.5005) -> (5.239, 0.8858) projected
  line L102 (5.239, 0.8858) -> (2.3, 0.8858) projected
  line L103 (2.3, 0.8858) -> (2.3, 3.8248) projected
  line L104 (2.3, 3.8248) -> (2.9147, 4.092) projected
  arc A13 (2.9147, 8.0795) -> (2.9147, 4.092) centre (7.5, 6.0858) ccw projected
  line L105 (2.9147, 8.0795) -> (2.3, 8.3468) projected
  line L106 (2.3, 8.3468) -> (2.3, 11.2858) projected
  line L107 (2.3, 11.2858) -> (5.239, 11.2858) projected
  line L108 (5.239, 11.2858) -> (5.5063, 10.6711) projected
  arc A14 (9.4937, 10.6711) -> (5.5063, 10.6711) centre (7.5, 6.0858) ccw projected
  line L109 (9.4937, 10.6711) -> (9.761, 11.2858) projected
  line L110 (9.761, 11.2858) -> (12.7, 11.2858) projected
  line L111 (12.7, 11.2858) -> (12.7, 8.3468) projected
  line L112 (12.7, 8.3468) -> (12.0853, 8.0795) projected
  arc A15 (12.0853, 4.092) -> (12.0853, 8.0795) centre (7.5, 6.0858) ccw projected
  line L113 (12.0853, 4.092) -> (12.7, 3.8248) projected
  line L114 (12.7, 3.8248) -> (12.7, 0.8858) projected
  line L115 (12.7, 0.8858) -> (9.761, 0.8858) projected
  point P0 (7.5, 6.0858)
extrude "Extrusion2" add sketch "Sketch2" against normal blind 2000
properties part number "40402m"
